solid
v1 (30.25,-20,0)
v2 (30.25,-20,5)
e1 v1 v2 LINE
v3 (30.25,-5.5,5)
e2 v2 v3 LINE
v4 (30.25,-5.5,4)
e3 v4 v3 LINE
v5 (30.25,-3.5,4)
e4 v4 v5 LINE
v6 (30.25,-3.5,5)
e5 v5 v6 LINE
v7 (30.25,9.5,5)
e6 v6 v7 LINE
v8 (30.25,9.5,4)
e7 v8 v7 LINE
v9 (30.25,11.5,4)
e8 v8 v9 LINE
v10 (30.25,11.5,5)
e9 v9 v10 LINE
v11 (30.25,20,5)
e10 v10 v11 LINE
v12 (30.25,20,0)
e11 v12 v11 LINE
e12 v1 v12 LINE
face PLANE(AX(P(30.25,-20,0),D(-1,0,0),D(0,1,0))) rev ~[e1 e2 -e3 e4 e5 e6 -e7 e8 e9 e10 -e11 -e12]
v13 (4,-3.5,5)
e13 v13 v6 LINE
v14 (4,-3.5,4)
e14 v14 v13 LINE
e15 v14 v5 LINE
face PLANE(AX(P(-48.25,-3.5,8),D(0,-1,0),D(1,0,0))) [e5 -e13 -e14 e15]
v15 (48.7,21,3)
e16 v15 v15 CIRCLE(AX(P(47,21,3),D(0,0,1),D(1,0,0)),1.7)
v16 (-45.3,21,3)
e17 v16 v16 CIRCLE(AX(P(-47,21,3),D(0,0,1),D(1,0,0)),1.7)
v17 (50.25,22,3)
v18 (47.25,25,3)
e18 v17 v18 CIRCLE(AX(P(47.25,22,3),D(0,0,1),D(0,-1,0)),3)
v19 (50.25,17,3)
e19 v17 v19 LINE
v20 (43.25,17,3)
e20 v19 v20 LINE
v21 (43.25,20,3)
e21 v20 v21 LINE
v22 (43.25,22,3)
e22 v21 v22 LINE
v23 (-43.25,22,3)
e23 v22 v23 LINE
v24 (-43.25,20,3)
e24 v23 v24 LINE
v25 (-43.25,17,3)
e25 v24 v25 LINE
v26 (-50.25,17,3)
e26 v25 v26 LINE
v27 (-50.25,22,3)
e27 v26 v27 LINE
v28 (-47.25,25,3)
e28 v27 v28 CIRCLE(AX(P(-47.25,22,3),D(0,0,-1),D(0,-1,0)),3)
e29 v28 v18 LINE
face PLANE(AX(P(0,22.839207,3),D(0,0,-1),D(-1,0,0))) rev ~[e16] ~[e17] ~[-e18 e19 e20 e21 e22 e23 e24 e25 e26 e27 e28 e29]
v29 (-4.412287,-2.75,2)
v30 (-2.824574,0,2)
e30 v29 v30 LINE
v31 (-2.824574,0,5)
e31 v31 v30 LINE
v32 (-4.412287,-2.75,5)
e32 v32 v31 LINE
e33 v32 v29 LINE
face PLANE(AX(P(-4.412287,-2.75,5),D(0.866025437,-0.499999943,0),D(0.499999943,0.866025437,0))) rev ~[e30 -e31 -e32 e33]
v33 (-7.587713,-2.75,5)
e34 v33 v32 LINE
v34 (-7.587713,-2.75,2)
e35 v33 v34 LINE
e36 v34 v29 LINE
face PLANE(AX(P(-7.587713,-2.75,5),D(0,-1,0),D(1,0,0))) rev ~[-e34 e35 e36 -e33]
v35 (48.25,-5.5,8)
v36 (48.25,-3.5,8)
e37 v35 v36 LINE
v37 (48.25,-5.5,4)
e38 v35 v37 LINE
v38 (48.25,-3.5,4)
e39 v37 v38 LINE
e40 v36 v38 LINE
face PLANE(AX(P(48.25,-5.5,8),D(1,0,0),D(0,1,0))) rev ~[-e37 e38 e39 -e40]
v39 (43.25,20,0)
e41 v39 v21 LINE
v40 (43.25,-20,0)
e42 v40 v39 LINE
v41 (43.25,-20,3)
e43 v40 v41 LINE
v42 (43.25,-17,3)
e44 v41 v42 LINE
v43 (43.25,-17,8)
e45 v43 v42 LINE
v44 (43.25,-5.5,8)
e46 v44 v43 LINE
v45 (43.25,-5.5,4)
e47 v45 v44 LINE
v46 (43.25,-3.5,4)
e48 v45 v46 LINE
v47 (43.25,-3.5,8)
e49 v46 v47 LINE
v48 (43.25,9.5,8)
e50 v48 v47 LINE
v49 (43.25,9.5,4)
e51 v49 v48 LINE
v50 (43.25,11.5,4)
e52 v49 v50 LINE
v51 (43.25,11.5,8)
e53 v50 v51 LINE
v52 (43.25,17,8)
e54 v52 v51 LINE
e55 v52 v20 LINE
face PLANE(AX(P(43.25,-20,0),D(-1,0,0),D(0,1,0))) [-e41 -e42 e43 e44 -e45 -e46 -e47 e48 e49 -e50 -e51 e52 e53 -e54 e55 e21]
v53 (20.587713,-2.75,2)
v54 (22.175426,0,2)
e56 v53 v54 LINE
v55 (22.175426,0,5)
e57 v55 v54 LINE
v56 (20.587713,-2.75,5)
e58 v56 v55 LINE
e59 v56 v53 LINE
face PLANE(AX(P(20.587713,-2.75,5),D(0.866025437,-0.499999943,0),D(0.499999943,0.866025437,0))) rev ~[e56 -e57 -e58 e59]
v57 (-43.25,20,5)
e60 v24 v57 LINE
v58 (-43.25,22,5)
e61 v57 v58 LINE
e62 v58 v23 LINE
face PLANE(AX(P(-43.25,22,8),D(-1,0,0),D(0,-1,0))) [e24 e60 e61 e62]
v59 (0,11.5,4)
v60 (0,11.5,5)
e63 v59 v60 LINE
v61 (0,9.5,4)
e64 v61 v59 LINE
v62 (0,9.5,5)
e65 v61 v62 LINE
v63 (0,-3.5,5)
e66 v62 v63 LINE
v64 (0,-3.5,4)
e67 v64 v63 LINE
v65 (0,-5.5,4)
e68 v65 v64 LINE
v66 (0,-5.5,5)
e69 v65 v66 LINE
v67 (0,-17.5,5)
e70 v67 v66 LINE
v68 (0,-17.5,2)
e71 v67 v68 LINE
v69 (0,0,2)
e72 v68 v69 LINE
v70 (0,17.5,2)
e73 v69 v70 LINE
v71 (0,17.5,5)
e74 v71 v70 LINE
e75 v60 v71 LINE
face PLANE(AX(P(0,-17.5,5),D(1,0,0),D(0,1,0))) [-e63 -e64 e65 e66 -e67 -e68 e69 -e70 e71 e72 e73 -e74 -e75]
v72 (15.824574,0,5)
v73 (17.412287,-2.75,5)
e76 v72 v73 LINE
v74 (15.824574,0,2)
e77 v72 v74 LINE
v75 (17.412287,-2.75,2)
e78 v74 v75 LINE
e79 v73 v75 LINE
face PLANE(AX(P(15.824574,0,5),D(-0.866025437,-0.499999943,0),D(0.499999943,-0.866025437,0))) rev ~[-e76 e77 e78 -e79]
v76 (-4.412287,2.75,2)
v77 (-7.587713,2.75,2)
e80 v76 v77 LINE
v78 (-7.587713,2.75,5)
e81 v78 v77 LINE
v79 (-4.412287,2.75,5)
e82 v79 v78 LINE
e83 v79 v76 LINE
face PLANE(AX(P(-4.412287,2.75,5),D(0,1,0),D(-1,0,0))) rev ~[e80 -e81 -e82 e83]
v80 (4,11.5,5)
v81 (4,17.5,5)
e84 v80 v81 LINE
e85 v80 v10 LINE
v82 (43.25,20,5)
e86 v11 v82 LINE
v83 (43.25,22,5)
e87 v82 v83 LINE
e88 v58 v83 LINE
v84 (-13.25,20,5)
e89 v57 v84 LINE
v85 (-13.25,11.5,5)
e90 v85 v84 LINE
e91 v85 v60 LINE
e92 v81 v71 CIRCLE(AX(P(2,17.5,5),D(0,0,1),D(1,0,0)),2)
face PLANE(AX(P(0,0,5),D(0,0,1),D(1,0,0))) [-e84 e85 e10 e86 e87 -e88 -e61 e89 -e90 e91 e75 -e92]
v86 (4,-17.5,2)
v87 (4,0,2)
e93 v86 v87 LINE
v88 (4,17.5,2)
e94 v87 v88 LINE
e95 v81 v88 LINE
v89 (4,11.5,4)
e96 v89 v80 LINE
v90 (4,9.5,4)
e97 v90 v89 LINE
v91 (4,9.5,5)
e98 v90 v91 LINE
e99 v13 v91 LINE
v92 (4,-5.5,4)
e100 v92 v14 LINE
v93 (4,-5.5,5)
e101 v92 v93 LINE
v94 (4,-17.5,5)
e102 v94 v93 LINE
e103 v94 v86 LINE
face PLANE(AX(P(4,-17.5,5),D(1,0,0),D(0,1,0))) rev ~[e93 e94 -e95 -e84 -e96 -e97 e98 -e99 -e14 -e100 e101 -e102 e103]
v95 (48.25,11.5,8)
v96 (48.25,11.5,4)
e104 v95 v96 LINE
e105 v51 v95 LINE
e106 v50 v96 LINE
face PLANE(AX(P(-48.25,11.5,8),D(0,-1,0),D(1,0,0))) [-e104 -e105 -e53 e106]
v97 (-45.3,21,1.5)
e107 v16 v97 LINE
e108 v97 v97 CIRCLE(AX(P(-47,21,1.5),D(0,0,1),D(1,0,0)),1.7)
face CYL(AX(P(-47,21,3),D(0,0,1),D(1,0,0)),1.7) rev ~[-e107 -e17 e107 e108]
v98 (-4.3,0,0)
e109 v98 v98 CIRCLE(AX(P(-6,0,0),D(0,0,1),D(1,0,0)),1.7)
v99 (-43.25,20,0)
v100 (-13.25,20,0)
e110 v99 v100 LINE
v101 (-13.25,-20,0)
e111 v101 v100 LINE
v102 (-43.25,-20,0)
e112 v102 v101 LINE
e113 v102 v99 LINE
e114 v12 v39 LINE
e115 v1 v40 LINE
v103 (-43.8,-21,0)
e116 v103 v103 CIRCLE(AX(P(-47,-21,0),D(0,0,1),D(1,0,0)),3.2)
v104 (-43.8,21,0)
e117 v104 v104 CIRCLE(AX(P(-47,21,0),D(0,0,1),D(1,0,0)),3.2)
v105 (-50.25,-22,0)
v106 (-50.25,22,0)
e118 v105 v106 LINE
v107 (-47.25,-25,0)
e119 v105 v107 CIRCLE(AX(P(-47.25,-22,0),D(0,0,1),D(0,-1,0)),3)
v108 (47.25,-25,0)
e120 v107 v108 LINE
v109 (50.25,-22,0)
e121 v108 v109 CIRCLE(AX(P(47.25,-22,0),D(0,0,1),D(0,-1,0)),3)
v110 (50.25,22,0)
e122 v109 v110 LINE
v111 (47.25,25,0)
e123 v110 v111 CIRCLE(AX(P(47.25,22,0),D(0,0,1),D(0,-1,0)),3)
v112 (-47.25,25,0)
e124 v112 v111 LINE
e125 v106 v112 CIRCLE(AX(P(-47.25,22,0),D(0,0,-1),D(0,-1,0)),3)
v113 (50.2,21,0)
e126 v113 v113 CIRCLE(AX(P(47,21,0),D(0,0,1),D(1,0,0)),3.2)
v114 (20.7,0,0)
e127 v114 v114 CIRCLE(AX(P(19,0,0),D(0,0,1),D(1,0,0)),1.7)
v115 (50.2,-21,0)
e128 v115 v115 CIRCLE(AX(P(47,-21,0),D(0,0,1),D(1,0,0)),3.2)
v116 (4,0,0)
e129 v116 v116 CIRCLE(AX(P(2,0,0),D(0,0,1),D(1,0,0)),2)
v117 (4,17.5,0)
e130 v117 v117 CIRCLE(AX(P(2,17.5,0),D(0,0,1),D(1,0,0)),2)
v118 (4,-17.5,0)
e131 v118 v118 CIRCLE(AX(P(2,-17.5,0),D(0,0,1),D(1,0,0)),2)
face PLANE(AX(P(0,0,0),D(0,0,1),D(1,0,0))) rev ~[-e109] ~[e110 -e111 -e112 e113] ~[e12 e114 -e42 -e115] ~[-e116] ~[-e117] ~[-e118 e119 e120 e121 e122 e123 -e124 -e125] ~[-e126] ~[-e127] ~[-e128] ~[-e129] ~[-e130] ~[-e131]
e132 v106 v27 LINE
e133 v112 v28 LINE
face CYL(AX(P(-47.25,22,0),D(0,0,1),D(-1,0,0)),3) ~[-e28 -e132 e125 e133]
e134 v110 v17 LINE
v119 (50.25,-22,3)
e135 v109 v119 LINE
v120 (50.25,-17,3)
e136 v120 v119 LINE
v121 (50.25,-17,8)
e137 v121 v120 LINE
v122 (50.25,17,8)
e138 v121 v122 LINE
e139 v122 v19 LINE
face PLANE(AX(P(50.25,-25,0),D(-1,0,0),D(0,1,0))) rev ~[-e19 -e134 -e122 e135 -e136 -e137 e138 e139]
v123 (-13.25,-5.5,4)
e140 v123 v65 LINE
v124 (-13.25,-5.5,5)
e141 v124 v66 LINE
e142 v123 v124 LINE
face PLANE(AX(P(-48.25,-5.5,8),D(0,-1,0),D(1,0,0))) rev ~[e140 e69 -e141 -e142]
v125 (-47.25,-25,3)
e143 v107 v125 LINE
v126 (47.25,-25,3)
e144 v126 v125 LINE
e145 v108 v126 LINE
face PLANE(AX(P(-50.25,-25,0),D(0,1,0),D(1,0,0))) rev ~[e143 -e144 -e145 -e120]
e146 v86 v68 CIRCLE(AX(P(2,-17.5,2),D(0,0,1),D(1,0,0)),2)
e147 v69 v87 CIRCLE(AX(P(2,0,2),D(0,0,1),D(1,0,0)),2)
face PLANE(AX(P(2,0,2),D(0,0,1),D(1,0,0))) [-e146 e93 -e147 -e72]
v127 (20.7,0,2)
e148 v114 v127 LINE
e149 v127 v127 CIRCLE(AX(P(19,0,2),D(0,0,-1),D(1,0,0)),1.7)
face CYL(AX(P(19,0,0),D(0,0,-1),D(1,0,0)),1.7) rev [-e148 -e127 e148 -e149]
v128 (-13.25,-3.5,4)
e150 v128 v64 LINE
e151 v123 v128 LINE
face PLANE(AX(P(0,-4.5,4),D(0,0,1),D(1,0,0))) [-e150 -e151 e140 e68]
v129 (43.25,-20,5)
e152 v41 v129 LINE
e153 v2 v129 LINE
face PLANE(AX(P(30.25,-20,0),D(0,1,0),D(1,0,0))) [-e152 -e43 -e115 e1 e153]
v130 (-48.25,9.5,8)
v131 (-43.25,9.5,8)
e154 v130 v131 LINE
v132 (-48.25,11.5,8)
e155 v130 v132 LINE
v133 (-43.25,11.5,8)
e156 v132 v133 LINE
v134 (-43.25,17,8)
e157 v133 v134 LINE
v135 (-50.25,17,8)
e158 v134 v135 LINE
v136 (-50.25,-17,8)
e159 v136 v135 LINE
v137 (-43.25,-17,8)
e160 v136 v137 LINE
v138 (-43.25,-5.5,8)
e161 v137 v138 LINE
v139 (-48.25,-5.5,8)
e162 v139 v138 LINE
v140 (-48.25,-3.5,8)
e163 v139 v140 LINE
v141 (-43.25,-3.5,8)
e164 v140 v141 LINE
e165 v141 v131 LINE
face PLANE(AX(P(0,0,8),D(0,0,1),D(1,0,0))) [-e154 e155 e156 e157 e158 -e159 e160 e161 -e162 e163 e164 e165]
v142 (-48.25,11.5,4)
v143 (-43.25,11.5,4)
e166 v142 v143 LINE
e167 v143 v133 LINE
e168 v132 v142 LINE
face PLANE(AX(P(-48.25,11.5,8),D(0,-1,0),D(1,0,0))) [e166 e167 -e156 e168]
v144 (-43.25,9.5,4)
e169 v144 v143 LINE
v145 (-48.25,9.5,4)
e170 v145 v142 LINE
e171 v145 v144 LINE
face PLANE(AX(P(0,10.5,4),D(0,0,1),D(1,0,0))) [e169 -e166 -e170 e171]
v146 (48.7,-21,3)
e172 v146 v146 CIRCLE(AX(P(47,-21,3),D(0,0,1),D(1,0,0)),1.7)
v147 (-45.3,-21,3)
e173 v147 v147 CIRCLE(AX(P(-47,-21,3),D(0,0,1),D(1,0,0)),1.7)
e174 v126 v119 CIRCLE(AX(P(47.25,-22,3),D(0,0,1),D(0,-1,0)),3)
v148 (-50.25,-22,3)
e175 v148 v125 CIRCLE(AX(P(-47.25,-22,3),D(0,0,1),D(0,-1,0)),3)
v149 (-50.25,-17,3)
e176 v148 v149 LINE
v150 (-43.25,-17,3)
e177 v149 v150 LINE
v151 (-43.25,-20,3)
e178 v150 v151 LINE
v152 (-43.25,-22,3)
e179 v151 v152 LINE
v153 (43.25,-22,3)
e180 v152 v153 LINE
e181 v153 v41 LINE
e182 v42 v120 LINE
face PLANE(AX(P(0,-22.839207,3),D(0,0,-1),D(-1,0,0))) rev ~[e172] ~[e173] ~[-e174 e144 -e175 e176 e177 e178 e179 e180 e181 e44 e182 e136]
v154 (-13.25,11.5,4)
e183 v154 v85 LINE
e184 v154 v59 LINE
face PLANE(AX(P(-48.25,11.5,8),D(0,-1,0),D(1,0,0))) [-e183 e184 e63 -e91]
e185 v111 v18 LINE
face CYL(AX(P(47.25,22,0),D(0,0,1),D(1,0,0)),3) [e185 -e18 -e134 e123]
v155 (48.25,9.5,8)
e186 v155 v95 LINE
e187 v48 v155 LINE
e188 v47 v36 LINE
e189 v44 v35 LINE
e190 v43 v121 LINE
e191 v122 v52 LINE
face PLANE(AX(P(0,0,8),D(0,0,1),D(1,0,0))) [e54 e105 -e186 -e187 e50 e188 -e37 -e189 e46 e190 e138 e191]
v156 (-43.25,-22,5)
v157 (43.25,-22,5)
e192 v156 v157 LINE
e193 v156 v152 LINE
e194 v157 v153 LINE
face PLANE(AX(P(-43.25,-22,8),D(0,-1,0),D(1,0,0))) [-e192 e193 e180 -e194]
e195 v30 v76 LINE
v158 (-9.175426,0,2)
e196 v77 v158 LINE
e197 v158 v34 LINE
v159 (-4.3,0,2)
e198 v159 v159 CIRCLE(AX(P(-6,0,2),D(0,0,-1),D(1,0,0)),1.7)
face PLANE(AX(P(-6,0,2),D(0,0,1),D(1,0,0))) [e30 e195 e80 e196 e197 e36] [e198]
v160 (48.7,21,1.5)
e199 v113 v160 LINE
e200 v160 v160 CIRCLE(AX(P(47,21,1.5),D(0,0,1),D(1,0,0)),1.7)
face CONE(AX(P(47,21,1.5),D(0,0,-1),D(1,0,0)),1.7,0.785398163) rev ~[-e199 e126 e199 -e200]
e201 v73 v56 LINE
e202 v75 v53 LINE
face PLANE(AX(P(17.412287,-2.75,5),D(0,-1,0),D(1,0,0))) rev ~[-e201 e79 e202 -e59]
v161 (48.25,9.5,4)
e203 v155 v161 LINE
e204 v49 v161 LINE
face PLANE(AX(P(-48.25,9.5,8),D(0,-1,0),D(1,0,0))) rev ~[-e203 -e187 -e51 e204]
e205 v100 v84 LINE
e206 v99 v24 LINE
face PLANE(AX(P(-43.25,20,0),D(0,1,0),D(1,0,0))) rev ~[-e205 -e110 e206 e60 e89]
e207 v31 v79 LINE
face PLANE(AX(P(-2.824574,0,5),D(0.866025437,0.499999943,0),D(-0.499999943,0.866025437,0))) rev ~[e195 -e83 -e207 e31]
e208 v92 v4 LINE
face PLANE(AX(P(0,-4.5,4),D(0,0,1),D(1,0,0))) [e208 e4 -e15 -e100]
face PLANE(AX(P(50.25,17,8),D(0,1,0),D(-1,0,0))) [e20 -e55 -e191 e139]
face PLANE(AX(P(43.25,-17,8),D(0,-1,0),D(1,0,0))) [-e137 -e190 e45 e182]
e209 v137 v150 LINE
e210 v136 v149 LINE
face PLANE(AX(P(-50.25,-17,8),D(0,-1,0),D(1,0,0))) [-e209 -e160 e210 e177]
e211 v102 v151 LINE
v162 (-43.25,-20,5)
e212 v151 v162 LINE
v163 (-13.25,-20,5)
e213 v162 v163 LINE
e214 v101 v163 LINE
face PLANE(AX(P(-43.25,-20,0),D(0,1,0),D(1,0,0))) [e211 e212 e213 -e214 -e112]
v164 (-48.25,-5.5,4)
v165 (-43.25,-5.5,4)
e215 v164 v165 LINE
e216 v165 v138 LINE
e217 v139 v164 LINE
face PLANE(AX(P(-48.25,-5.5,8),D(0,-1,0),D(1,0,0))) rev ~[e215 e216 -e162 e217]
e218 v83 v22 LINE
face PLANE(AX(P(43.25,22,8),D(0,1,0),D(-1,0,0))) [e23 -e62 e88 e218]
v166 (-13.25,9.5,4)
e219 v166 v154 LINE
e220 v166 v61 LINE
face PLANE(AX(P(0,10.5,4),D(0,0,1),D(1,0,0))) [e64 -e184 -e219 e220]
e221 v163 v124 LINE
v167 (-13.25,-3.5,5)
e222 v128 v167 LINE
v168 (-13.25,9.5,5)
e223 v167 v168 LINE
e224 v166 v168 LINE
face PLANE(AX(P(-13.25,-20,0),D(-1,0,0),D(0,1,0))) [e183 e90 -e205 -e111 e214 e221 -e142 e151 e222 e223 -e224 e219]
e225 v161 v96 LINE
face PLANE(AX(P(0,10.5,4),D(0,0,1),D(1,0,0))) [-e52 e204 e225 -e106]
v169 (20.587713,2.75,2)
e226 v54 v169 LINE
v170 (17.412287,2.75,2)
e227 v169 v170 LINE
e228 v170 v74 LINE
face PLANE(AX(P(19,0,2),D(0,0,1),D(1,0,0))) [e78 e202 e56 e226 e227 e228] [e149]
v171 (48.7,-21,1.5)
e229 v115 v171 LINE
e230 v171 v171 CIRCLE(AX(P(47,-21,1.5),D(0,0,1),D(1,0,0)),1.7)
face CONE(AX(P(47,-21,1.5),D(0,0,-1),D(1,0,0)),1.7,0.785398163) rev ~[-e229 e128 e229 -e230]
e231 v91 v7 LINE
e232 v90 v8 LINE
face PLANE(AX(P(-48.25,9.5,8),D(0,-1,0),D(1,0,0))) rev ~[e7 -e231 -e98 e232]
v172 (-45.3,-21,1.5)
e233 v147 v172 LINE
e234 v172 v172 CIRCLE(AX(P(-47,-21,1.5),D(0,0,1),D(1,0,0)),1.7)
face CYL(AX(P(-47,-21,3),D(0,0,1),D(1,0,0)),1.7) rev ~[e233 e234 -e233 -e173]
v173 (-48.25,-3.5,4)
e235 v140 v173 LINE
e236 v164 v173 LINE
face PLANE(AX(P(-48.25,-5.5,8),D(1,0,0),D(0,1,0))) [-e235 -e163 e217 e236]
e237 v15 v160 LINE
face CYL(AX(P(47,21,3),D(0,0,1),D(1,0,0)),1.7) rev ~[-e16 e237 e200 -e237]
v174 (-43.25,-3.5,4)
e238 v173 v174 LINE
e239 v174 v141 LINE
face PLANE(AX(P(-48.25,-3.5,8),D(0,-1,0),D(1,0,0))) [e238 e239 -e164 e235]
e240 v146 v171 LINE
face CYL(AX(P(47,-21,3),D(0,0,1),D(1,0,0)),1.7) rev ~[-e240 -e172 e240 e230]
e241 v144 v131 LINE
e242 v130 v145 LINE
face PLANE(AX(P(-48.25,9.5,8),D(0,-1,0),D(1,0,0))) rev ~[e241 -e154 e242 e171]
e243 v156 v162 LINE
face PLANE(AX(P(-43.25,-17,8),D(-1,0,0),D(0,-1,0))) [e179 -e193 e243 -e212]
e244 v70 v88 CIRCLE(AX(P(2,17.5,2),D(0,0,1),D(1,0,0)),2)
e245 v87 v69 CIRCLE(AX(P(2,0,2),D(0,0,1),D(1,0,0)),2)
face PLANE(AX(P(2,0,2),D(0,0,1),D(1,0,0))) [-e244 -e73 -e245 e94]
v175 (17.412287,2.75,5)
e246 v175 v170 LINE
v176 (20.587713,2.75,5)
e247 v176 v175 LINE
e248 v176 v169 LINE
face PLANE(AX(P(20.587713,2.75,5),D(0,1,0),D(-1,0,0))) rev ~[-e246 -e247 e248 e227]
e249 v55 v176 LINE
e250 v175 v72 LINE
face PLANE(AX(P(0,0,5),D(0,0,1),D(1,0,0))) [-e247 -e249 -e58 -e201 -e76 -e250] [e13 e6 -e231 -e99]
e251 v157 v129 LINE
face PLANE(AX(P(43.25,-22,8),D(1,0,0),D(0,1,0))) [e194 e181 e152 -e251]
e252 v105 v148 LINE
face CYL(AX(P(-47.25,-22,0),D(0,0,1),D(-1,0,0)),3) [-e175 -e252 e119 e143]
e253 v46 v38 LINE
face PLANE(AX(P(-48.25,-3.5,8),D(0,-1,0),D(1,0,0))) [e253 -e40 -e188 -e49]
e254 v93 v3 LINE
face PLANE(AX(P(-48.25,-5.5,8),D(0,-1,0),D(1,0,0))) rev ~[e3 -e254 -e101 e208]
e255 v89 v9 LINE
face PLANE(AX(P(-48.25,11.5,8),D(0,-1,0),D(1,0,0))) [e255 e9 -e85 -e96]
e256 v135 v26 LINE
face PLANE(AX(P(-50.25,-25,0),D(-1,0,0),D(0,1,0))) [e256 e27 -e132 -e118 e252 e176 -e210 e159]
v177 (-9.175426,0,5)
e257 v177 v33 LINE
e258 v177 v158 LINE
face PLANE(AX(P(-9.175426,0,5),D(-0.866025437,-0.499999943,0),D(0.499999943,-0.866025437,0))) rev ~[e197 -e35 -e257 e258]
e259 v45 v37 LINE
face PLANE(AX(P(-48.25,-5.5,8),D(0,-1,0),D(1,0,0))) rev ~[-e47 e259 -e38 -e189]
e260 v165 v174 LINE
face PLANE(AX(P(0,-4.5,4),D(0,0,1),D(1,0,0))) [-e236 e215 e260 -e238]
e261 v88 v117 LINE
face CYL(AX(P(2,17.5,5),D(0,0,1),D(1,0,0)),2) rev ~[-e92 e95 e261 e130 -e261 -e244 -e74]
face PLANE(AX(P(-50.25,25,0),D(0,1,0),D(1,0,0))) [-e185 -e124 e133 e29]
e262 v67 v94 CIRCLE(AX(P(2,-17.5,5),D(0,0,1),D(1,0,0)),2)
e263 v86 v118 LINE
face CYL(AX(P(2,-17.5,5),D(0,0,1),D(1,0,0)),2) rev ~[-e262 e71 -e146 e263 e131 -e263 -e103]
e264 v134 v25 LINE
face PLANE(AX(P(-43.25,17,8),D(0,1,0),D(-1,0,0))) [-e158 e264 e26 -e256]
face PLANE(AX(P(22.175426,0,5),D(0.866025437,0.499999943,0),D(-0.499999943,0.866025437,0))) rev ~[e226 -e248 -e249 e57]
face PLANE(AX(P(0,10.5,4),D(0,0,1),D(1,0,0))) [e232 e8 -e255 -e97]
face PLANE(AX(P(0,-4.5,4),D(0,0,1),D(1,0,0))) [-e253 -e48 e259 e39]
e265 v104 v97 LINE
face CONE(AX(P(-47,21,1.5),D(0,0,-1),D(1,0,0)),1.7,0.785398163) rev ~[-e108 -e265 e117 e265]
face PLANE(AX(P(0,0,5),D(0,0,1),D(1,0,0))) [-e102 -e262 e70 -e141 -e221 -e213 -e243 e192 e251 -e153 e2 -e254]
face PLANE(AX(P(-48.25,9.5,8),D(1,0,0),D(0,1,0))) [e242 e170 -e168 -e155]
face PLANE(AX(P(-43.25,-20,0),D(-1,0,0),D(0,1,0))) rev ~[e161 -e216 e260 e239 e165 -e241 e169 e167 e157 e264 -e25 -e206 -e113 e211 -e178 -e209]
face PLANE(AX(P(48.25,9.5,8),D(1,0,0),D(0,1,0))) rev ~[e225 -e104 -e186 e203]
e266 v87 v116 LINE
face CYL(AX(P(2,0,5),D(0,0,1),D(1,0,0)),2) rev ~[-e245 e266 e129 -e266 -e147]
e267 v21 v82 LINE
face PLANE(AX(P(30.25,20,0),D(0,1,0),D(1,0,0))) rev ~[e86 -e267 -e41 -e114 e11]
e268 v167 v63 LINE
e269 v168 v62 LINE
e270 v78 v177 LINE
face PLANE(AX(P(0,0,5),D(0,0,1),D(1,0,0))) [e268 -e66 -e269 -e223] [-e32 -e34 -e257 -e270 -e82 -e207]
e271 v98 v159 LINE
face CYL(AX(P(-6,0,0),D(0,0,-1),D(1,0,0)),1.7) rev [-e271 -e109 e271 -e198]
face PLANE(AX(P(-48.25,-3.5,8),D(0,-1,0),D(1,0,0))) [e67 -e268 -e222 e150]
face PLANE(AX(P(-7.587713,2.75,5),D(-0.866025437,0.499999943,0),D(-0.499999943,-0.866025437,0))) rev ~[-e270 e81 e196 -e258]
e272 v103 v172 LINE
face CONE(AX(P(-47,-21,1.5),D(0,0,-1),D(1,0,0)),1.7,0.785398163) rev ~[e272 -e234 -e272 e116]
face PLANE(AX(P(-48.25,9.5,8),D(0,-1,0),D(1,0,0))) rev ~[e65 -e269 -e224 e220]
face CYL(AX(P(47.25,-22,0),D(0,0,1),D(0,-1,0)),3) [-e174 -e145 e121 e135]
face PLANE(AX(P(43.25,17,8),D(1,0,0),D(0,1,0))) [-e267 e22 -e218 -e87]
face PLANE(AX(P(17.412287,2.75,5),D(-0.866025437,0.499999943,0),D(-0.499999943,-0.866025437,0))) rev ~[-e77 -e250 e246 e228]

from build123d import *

# Parameters (mm, degrees)
SKETCH_W        = 100.5
SKETCH_H        = 50
SKETCH_R        = 1.7
SKETCH_W_2      = 30
SKETCH_H_2      = 40
SKETCH_W_3      = 13
PAD_DEPTH       = 8
SKETCH001_W     = 86.5
SKETCH001_H     = 44
POCKET_DEPTH    = 3
SKETCH002_W     = 96.5
SKETCH002_H     = 2
POCKET001_DEPTH = 4
POCKET003_DEPTH = 5
SKETCH005_R     = 1.7
POCKET004_DEPTH = 3.001
POCKET005_DEPTH = 3
FILLET_R        = 3
FILLET001_R     = 3
FILLET002_R     = 3
FILLET003_R     = 3
SKETCH007_W     = 4
SKETCH007_H     = 35
POCKET006_DEPTH = 3
SKETCH008_R     = 2
POCKET007_DEPTH = 5.001
CHAMFER_SIZE    = 1.5
CHAMFER001_SIZE = 1.5
CHAMFER002_SIZE = 1.5
CHAMFER003_SIZE = 1.5


with BuildPart() as part:
    # Sketch → Pad (new body)
    with BuildSketch(Plane.XY):
        Rectangle(SKETCH_W, SKETCH_H)
        with Locations((-6, 0)):
            Circle(SKETCH_R, mode=Mode.SUBTRACT)
        with Locations((19, 0)):
            Circle(SKETCH_R, mode=Mode.SUBTRACT)
        with Locations((-28.25, 0)):
            Rectangle(SKETCH_W_2, SKETCH_H_2, mode=Mode.SUBTRACT)
        with Locations((36.75, 0)):
            Rectangle(SKETCH_W_3, SKETCH_H_2, mode=Mode.SUBTRACT)
    extrude(amount=PAD_DEPTH)

    # Sketch001 → Pocket (cut)
    with BuildSketch(Plane.XY.offset(8)):
        Rectangle(SKETCH001_W, SKETCH001_H)
    extrude(amount=-POCKET_DEPTH, mode=Mode.SUBTRACT)

    # Sketch002 → Pocket001 (cut)
    with BuildSketch(Plane.XY.offset(8)):
        with Locations((0, 10.5)):
            Rectangle(SKETCH002_W, SKETCH002_H)
        with Locations((0, -4.5)):
            Rectangle(SKETCH002_W, SKETCH002_H)
    extrude(amount=-POCKET001_DEPTH, mode=Mode.SUBTRACT)

    # Sketch004 → Pocket003 (cut)
    with BuildSketch(Plane.XY.offset(8)):
        Polygon((-50.25, 25), (50.25, 25), (50.25, 17), (43.25, 17), (43.25, 22), (-43.25, 22), (-43.25, 17), (-50.25, 17), align=None)
        Polygon((50.25, -17), (50.25, -25), (-50.25, -25), (-50.25, -17), (-43.25, -17), (-43.25, -22), (43.25, -22), (43.25, -17), align=None)
    extrude(amount=-POCKET003_DEPTH, mode=Mode.SUBTRACT)

    # Sketch005 → Pocket004 (cut, through all)
    with BuildSketch(Plane.XY.offset(3)):
        with Locations((-47, 21)):
            Circle(SKETCH005_R)
        with Locations((47, 21)):
            Circle(SKETCH005_R)
        with Locations((47, -21)):
            Circle(SKETCH005_R)
        with Locations((-47, -21)):
            Circle(SKETCH005_R)
    extrude(amount=-POCKET004_DEPTH, mode=Mode.SUBTRACT)

    # Sketch006 → Pocket005 (cut)
    with BuildSketch(Plane.XY.offset(5)):
        Polygon((-7.587713, 2.75), (-9.175426, 0), (-7.587713, -2.75), (-4.412287, -2.75), (-2.824574, 0), (-4.412287, 2.75), align=None)
        Polygon((17.412287, 2.75), (15.824574, 0), (17.412287, -2.75), (20.587713, -2.75), (22.175426, 0), (20.587713, 2.75), align=None)
    extrude(amount=-POCKET005_DEPTH, mode=Mode.SUBTRACT)

    # Fillet
    fillet_edges = [part.edges().sort_by_distance(p)[0] for p in [
        (-50.25, -25, 1.5),
    ]]
    fillet(fillet_edges, radius=FILLET_R)

    # Fillet001
    fillet001_edges = [part.edges().sort_by_distance(p)[0] for p in [
        (-50.25, 25, 1.5),
    ]]
    fillet(fillet001_edges, radius=FILLET001_R)

    # Fillet002
    fillet002_edges = [part.edges().sort_by_distance(p)[0] for p in [
        (50.25, -25, 1.5),
    ]]
    fillet(fillet002_edges, radius=FILLET002_R)

    # Fillet003
    fillet003_edges = [part.edges().sort_by_distance(p)[0] for p in [
        (50.25, 25, 1.5),
    ]]
    fillet(fillet003_edges, radius=FILLET003_R)

    # Sketch007 → Pocket006 (cut)
    with BuildSketch(Plane.XY.offset(5)):
        with Locations((2, 0)):
            Rectangle(SKETCH007_W, SKETCH007_H)
    extrude(amount=-POCKET006_DEPTH, mode=Mode.SUBTRACT)

    # Sketch008 → Pocket007 (cut, through all)
    with BuildSketch(Plane.XY.offset(5)):
        with Locations((2, 17.5)):
            Circle(SKETCH008_R)
        with Locations((2, 0)):
            Circle(SKETCH008_R)
        with Locations((2, -17.5)):
            Circle(SKETCH008_R)
    extrude(amount=-POCKET007_DEPTH, mode=Mode.SUBTRACT)

    # Chamfer
    chamfer_edges = [part.edges().sort_by_distance(p)[0] for p in [
        (-48.7, 21, 0),
    ]]
    chamfer(chamfer_edges, length=CHAMFER_SIZE)

    # Chamfer001
    chamfer001_edges = [part.edges().sort_by_distance(p)[0] for p in [
        (-48.7, -21, 0),
    ]]
    chamfer(chamfer001_edges, length=CHAMFER001_SIZE)

    # Chamfer002
    chamfer002_edges = [part.edges().sort_by_distance(p)[0] for p in [
        (45.3, 21, 0),
    ]]
    chamfer(chamfer002_edges, length=CHAMFER002_SIZE)

    # Chamfer003
    chamfer003_edges = [part.edges().sort_by_distance(p)[0] for p in [
        (45.3, -21, 0),
    ]]
    chamfer(chamfer003_edges, length=CHAMFER003_SIZE)


solid = part.part
